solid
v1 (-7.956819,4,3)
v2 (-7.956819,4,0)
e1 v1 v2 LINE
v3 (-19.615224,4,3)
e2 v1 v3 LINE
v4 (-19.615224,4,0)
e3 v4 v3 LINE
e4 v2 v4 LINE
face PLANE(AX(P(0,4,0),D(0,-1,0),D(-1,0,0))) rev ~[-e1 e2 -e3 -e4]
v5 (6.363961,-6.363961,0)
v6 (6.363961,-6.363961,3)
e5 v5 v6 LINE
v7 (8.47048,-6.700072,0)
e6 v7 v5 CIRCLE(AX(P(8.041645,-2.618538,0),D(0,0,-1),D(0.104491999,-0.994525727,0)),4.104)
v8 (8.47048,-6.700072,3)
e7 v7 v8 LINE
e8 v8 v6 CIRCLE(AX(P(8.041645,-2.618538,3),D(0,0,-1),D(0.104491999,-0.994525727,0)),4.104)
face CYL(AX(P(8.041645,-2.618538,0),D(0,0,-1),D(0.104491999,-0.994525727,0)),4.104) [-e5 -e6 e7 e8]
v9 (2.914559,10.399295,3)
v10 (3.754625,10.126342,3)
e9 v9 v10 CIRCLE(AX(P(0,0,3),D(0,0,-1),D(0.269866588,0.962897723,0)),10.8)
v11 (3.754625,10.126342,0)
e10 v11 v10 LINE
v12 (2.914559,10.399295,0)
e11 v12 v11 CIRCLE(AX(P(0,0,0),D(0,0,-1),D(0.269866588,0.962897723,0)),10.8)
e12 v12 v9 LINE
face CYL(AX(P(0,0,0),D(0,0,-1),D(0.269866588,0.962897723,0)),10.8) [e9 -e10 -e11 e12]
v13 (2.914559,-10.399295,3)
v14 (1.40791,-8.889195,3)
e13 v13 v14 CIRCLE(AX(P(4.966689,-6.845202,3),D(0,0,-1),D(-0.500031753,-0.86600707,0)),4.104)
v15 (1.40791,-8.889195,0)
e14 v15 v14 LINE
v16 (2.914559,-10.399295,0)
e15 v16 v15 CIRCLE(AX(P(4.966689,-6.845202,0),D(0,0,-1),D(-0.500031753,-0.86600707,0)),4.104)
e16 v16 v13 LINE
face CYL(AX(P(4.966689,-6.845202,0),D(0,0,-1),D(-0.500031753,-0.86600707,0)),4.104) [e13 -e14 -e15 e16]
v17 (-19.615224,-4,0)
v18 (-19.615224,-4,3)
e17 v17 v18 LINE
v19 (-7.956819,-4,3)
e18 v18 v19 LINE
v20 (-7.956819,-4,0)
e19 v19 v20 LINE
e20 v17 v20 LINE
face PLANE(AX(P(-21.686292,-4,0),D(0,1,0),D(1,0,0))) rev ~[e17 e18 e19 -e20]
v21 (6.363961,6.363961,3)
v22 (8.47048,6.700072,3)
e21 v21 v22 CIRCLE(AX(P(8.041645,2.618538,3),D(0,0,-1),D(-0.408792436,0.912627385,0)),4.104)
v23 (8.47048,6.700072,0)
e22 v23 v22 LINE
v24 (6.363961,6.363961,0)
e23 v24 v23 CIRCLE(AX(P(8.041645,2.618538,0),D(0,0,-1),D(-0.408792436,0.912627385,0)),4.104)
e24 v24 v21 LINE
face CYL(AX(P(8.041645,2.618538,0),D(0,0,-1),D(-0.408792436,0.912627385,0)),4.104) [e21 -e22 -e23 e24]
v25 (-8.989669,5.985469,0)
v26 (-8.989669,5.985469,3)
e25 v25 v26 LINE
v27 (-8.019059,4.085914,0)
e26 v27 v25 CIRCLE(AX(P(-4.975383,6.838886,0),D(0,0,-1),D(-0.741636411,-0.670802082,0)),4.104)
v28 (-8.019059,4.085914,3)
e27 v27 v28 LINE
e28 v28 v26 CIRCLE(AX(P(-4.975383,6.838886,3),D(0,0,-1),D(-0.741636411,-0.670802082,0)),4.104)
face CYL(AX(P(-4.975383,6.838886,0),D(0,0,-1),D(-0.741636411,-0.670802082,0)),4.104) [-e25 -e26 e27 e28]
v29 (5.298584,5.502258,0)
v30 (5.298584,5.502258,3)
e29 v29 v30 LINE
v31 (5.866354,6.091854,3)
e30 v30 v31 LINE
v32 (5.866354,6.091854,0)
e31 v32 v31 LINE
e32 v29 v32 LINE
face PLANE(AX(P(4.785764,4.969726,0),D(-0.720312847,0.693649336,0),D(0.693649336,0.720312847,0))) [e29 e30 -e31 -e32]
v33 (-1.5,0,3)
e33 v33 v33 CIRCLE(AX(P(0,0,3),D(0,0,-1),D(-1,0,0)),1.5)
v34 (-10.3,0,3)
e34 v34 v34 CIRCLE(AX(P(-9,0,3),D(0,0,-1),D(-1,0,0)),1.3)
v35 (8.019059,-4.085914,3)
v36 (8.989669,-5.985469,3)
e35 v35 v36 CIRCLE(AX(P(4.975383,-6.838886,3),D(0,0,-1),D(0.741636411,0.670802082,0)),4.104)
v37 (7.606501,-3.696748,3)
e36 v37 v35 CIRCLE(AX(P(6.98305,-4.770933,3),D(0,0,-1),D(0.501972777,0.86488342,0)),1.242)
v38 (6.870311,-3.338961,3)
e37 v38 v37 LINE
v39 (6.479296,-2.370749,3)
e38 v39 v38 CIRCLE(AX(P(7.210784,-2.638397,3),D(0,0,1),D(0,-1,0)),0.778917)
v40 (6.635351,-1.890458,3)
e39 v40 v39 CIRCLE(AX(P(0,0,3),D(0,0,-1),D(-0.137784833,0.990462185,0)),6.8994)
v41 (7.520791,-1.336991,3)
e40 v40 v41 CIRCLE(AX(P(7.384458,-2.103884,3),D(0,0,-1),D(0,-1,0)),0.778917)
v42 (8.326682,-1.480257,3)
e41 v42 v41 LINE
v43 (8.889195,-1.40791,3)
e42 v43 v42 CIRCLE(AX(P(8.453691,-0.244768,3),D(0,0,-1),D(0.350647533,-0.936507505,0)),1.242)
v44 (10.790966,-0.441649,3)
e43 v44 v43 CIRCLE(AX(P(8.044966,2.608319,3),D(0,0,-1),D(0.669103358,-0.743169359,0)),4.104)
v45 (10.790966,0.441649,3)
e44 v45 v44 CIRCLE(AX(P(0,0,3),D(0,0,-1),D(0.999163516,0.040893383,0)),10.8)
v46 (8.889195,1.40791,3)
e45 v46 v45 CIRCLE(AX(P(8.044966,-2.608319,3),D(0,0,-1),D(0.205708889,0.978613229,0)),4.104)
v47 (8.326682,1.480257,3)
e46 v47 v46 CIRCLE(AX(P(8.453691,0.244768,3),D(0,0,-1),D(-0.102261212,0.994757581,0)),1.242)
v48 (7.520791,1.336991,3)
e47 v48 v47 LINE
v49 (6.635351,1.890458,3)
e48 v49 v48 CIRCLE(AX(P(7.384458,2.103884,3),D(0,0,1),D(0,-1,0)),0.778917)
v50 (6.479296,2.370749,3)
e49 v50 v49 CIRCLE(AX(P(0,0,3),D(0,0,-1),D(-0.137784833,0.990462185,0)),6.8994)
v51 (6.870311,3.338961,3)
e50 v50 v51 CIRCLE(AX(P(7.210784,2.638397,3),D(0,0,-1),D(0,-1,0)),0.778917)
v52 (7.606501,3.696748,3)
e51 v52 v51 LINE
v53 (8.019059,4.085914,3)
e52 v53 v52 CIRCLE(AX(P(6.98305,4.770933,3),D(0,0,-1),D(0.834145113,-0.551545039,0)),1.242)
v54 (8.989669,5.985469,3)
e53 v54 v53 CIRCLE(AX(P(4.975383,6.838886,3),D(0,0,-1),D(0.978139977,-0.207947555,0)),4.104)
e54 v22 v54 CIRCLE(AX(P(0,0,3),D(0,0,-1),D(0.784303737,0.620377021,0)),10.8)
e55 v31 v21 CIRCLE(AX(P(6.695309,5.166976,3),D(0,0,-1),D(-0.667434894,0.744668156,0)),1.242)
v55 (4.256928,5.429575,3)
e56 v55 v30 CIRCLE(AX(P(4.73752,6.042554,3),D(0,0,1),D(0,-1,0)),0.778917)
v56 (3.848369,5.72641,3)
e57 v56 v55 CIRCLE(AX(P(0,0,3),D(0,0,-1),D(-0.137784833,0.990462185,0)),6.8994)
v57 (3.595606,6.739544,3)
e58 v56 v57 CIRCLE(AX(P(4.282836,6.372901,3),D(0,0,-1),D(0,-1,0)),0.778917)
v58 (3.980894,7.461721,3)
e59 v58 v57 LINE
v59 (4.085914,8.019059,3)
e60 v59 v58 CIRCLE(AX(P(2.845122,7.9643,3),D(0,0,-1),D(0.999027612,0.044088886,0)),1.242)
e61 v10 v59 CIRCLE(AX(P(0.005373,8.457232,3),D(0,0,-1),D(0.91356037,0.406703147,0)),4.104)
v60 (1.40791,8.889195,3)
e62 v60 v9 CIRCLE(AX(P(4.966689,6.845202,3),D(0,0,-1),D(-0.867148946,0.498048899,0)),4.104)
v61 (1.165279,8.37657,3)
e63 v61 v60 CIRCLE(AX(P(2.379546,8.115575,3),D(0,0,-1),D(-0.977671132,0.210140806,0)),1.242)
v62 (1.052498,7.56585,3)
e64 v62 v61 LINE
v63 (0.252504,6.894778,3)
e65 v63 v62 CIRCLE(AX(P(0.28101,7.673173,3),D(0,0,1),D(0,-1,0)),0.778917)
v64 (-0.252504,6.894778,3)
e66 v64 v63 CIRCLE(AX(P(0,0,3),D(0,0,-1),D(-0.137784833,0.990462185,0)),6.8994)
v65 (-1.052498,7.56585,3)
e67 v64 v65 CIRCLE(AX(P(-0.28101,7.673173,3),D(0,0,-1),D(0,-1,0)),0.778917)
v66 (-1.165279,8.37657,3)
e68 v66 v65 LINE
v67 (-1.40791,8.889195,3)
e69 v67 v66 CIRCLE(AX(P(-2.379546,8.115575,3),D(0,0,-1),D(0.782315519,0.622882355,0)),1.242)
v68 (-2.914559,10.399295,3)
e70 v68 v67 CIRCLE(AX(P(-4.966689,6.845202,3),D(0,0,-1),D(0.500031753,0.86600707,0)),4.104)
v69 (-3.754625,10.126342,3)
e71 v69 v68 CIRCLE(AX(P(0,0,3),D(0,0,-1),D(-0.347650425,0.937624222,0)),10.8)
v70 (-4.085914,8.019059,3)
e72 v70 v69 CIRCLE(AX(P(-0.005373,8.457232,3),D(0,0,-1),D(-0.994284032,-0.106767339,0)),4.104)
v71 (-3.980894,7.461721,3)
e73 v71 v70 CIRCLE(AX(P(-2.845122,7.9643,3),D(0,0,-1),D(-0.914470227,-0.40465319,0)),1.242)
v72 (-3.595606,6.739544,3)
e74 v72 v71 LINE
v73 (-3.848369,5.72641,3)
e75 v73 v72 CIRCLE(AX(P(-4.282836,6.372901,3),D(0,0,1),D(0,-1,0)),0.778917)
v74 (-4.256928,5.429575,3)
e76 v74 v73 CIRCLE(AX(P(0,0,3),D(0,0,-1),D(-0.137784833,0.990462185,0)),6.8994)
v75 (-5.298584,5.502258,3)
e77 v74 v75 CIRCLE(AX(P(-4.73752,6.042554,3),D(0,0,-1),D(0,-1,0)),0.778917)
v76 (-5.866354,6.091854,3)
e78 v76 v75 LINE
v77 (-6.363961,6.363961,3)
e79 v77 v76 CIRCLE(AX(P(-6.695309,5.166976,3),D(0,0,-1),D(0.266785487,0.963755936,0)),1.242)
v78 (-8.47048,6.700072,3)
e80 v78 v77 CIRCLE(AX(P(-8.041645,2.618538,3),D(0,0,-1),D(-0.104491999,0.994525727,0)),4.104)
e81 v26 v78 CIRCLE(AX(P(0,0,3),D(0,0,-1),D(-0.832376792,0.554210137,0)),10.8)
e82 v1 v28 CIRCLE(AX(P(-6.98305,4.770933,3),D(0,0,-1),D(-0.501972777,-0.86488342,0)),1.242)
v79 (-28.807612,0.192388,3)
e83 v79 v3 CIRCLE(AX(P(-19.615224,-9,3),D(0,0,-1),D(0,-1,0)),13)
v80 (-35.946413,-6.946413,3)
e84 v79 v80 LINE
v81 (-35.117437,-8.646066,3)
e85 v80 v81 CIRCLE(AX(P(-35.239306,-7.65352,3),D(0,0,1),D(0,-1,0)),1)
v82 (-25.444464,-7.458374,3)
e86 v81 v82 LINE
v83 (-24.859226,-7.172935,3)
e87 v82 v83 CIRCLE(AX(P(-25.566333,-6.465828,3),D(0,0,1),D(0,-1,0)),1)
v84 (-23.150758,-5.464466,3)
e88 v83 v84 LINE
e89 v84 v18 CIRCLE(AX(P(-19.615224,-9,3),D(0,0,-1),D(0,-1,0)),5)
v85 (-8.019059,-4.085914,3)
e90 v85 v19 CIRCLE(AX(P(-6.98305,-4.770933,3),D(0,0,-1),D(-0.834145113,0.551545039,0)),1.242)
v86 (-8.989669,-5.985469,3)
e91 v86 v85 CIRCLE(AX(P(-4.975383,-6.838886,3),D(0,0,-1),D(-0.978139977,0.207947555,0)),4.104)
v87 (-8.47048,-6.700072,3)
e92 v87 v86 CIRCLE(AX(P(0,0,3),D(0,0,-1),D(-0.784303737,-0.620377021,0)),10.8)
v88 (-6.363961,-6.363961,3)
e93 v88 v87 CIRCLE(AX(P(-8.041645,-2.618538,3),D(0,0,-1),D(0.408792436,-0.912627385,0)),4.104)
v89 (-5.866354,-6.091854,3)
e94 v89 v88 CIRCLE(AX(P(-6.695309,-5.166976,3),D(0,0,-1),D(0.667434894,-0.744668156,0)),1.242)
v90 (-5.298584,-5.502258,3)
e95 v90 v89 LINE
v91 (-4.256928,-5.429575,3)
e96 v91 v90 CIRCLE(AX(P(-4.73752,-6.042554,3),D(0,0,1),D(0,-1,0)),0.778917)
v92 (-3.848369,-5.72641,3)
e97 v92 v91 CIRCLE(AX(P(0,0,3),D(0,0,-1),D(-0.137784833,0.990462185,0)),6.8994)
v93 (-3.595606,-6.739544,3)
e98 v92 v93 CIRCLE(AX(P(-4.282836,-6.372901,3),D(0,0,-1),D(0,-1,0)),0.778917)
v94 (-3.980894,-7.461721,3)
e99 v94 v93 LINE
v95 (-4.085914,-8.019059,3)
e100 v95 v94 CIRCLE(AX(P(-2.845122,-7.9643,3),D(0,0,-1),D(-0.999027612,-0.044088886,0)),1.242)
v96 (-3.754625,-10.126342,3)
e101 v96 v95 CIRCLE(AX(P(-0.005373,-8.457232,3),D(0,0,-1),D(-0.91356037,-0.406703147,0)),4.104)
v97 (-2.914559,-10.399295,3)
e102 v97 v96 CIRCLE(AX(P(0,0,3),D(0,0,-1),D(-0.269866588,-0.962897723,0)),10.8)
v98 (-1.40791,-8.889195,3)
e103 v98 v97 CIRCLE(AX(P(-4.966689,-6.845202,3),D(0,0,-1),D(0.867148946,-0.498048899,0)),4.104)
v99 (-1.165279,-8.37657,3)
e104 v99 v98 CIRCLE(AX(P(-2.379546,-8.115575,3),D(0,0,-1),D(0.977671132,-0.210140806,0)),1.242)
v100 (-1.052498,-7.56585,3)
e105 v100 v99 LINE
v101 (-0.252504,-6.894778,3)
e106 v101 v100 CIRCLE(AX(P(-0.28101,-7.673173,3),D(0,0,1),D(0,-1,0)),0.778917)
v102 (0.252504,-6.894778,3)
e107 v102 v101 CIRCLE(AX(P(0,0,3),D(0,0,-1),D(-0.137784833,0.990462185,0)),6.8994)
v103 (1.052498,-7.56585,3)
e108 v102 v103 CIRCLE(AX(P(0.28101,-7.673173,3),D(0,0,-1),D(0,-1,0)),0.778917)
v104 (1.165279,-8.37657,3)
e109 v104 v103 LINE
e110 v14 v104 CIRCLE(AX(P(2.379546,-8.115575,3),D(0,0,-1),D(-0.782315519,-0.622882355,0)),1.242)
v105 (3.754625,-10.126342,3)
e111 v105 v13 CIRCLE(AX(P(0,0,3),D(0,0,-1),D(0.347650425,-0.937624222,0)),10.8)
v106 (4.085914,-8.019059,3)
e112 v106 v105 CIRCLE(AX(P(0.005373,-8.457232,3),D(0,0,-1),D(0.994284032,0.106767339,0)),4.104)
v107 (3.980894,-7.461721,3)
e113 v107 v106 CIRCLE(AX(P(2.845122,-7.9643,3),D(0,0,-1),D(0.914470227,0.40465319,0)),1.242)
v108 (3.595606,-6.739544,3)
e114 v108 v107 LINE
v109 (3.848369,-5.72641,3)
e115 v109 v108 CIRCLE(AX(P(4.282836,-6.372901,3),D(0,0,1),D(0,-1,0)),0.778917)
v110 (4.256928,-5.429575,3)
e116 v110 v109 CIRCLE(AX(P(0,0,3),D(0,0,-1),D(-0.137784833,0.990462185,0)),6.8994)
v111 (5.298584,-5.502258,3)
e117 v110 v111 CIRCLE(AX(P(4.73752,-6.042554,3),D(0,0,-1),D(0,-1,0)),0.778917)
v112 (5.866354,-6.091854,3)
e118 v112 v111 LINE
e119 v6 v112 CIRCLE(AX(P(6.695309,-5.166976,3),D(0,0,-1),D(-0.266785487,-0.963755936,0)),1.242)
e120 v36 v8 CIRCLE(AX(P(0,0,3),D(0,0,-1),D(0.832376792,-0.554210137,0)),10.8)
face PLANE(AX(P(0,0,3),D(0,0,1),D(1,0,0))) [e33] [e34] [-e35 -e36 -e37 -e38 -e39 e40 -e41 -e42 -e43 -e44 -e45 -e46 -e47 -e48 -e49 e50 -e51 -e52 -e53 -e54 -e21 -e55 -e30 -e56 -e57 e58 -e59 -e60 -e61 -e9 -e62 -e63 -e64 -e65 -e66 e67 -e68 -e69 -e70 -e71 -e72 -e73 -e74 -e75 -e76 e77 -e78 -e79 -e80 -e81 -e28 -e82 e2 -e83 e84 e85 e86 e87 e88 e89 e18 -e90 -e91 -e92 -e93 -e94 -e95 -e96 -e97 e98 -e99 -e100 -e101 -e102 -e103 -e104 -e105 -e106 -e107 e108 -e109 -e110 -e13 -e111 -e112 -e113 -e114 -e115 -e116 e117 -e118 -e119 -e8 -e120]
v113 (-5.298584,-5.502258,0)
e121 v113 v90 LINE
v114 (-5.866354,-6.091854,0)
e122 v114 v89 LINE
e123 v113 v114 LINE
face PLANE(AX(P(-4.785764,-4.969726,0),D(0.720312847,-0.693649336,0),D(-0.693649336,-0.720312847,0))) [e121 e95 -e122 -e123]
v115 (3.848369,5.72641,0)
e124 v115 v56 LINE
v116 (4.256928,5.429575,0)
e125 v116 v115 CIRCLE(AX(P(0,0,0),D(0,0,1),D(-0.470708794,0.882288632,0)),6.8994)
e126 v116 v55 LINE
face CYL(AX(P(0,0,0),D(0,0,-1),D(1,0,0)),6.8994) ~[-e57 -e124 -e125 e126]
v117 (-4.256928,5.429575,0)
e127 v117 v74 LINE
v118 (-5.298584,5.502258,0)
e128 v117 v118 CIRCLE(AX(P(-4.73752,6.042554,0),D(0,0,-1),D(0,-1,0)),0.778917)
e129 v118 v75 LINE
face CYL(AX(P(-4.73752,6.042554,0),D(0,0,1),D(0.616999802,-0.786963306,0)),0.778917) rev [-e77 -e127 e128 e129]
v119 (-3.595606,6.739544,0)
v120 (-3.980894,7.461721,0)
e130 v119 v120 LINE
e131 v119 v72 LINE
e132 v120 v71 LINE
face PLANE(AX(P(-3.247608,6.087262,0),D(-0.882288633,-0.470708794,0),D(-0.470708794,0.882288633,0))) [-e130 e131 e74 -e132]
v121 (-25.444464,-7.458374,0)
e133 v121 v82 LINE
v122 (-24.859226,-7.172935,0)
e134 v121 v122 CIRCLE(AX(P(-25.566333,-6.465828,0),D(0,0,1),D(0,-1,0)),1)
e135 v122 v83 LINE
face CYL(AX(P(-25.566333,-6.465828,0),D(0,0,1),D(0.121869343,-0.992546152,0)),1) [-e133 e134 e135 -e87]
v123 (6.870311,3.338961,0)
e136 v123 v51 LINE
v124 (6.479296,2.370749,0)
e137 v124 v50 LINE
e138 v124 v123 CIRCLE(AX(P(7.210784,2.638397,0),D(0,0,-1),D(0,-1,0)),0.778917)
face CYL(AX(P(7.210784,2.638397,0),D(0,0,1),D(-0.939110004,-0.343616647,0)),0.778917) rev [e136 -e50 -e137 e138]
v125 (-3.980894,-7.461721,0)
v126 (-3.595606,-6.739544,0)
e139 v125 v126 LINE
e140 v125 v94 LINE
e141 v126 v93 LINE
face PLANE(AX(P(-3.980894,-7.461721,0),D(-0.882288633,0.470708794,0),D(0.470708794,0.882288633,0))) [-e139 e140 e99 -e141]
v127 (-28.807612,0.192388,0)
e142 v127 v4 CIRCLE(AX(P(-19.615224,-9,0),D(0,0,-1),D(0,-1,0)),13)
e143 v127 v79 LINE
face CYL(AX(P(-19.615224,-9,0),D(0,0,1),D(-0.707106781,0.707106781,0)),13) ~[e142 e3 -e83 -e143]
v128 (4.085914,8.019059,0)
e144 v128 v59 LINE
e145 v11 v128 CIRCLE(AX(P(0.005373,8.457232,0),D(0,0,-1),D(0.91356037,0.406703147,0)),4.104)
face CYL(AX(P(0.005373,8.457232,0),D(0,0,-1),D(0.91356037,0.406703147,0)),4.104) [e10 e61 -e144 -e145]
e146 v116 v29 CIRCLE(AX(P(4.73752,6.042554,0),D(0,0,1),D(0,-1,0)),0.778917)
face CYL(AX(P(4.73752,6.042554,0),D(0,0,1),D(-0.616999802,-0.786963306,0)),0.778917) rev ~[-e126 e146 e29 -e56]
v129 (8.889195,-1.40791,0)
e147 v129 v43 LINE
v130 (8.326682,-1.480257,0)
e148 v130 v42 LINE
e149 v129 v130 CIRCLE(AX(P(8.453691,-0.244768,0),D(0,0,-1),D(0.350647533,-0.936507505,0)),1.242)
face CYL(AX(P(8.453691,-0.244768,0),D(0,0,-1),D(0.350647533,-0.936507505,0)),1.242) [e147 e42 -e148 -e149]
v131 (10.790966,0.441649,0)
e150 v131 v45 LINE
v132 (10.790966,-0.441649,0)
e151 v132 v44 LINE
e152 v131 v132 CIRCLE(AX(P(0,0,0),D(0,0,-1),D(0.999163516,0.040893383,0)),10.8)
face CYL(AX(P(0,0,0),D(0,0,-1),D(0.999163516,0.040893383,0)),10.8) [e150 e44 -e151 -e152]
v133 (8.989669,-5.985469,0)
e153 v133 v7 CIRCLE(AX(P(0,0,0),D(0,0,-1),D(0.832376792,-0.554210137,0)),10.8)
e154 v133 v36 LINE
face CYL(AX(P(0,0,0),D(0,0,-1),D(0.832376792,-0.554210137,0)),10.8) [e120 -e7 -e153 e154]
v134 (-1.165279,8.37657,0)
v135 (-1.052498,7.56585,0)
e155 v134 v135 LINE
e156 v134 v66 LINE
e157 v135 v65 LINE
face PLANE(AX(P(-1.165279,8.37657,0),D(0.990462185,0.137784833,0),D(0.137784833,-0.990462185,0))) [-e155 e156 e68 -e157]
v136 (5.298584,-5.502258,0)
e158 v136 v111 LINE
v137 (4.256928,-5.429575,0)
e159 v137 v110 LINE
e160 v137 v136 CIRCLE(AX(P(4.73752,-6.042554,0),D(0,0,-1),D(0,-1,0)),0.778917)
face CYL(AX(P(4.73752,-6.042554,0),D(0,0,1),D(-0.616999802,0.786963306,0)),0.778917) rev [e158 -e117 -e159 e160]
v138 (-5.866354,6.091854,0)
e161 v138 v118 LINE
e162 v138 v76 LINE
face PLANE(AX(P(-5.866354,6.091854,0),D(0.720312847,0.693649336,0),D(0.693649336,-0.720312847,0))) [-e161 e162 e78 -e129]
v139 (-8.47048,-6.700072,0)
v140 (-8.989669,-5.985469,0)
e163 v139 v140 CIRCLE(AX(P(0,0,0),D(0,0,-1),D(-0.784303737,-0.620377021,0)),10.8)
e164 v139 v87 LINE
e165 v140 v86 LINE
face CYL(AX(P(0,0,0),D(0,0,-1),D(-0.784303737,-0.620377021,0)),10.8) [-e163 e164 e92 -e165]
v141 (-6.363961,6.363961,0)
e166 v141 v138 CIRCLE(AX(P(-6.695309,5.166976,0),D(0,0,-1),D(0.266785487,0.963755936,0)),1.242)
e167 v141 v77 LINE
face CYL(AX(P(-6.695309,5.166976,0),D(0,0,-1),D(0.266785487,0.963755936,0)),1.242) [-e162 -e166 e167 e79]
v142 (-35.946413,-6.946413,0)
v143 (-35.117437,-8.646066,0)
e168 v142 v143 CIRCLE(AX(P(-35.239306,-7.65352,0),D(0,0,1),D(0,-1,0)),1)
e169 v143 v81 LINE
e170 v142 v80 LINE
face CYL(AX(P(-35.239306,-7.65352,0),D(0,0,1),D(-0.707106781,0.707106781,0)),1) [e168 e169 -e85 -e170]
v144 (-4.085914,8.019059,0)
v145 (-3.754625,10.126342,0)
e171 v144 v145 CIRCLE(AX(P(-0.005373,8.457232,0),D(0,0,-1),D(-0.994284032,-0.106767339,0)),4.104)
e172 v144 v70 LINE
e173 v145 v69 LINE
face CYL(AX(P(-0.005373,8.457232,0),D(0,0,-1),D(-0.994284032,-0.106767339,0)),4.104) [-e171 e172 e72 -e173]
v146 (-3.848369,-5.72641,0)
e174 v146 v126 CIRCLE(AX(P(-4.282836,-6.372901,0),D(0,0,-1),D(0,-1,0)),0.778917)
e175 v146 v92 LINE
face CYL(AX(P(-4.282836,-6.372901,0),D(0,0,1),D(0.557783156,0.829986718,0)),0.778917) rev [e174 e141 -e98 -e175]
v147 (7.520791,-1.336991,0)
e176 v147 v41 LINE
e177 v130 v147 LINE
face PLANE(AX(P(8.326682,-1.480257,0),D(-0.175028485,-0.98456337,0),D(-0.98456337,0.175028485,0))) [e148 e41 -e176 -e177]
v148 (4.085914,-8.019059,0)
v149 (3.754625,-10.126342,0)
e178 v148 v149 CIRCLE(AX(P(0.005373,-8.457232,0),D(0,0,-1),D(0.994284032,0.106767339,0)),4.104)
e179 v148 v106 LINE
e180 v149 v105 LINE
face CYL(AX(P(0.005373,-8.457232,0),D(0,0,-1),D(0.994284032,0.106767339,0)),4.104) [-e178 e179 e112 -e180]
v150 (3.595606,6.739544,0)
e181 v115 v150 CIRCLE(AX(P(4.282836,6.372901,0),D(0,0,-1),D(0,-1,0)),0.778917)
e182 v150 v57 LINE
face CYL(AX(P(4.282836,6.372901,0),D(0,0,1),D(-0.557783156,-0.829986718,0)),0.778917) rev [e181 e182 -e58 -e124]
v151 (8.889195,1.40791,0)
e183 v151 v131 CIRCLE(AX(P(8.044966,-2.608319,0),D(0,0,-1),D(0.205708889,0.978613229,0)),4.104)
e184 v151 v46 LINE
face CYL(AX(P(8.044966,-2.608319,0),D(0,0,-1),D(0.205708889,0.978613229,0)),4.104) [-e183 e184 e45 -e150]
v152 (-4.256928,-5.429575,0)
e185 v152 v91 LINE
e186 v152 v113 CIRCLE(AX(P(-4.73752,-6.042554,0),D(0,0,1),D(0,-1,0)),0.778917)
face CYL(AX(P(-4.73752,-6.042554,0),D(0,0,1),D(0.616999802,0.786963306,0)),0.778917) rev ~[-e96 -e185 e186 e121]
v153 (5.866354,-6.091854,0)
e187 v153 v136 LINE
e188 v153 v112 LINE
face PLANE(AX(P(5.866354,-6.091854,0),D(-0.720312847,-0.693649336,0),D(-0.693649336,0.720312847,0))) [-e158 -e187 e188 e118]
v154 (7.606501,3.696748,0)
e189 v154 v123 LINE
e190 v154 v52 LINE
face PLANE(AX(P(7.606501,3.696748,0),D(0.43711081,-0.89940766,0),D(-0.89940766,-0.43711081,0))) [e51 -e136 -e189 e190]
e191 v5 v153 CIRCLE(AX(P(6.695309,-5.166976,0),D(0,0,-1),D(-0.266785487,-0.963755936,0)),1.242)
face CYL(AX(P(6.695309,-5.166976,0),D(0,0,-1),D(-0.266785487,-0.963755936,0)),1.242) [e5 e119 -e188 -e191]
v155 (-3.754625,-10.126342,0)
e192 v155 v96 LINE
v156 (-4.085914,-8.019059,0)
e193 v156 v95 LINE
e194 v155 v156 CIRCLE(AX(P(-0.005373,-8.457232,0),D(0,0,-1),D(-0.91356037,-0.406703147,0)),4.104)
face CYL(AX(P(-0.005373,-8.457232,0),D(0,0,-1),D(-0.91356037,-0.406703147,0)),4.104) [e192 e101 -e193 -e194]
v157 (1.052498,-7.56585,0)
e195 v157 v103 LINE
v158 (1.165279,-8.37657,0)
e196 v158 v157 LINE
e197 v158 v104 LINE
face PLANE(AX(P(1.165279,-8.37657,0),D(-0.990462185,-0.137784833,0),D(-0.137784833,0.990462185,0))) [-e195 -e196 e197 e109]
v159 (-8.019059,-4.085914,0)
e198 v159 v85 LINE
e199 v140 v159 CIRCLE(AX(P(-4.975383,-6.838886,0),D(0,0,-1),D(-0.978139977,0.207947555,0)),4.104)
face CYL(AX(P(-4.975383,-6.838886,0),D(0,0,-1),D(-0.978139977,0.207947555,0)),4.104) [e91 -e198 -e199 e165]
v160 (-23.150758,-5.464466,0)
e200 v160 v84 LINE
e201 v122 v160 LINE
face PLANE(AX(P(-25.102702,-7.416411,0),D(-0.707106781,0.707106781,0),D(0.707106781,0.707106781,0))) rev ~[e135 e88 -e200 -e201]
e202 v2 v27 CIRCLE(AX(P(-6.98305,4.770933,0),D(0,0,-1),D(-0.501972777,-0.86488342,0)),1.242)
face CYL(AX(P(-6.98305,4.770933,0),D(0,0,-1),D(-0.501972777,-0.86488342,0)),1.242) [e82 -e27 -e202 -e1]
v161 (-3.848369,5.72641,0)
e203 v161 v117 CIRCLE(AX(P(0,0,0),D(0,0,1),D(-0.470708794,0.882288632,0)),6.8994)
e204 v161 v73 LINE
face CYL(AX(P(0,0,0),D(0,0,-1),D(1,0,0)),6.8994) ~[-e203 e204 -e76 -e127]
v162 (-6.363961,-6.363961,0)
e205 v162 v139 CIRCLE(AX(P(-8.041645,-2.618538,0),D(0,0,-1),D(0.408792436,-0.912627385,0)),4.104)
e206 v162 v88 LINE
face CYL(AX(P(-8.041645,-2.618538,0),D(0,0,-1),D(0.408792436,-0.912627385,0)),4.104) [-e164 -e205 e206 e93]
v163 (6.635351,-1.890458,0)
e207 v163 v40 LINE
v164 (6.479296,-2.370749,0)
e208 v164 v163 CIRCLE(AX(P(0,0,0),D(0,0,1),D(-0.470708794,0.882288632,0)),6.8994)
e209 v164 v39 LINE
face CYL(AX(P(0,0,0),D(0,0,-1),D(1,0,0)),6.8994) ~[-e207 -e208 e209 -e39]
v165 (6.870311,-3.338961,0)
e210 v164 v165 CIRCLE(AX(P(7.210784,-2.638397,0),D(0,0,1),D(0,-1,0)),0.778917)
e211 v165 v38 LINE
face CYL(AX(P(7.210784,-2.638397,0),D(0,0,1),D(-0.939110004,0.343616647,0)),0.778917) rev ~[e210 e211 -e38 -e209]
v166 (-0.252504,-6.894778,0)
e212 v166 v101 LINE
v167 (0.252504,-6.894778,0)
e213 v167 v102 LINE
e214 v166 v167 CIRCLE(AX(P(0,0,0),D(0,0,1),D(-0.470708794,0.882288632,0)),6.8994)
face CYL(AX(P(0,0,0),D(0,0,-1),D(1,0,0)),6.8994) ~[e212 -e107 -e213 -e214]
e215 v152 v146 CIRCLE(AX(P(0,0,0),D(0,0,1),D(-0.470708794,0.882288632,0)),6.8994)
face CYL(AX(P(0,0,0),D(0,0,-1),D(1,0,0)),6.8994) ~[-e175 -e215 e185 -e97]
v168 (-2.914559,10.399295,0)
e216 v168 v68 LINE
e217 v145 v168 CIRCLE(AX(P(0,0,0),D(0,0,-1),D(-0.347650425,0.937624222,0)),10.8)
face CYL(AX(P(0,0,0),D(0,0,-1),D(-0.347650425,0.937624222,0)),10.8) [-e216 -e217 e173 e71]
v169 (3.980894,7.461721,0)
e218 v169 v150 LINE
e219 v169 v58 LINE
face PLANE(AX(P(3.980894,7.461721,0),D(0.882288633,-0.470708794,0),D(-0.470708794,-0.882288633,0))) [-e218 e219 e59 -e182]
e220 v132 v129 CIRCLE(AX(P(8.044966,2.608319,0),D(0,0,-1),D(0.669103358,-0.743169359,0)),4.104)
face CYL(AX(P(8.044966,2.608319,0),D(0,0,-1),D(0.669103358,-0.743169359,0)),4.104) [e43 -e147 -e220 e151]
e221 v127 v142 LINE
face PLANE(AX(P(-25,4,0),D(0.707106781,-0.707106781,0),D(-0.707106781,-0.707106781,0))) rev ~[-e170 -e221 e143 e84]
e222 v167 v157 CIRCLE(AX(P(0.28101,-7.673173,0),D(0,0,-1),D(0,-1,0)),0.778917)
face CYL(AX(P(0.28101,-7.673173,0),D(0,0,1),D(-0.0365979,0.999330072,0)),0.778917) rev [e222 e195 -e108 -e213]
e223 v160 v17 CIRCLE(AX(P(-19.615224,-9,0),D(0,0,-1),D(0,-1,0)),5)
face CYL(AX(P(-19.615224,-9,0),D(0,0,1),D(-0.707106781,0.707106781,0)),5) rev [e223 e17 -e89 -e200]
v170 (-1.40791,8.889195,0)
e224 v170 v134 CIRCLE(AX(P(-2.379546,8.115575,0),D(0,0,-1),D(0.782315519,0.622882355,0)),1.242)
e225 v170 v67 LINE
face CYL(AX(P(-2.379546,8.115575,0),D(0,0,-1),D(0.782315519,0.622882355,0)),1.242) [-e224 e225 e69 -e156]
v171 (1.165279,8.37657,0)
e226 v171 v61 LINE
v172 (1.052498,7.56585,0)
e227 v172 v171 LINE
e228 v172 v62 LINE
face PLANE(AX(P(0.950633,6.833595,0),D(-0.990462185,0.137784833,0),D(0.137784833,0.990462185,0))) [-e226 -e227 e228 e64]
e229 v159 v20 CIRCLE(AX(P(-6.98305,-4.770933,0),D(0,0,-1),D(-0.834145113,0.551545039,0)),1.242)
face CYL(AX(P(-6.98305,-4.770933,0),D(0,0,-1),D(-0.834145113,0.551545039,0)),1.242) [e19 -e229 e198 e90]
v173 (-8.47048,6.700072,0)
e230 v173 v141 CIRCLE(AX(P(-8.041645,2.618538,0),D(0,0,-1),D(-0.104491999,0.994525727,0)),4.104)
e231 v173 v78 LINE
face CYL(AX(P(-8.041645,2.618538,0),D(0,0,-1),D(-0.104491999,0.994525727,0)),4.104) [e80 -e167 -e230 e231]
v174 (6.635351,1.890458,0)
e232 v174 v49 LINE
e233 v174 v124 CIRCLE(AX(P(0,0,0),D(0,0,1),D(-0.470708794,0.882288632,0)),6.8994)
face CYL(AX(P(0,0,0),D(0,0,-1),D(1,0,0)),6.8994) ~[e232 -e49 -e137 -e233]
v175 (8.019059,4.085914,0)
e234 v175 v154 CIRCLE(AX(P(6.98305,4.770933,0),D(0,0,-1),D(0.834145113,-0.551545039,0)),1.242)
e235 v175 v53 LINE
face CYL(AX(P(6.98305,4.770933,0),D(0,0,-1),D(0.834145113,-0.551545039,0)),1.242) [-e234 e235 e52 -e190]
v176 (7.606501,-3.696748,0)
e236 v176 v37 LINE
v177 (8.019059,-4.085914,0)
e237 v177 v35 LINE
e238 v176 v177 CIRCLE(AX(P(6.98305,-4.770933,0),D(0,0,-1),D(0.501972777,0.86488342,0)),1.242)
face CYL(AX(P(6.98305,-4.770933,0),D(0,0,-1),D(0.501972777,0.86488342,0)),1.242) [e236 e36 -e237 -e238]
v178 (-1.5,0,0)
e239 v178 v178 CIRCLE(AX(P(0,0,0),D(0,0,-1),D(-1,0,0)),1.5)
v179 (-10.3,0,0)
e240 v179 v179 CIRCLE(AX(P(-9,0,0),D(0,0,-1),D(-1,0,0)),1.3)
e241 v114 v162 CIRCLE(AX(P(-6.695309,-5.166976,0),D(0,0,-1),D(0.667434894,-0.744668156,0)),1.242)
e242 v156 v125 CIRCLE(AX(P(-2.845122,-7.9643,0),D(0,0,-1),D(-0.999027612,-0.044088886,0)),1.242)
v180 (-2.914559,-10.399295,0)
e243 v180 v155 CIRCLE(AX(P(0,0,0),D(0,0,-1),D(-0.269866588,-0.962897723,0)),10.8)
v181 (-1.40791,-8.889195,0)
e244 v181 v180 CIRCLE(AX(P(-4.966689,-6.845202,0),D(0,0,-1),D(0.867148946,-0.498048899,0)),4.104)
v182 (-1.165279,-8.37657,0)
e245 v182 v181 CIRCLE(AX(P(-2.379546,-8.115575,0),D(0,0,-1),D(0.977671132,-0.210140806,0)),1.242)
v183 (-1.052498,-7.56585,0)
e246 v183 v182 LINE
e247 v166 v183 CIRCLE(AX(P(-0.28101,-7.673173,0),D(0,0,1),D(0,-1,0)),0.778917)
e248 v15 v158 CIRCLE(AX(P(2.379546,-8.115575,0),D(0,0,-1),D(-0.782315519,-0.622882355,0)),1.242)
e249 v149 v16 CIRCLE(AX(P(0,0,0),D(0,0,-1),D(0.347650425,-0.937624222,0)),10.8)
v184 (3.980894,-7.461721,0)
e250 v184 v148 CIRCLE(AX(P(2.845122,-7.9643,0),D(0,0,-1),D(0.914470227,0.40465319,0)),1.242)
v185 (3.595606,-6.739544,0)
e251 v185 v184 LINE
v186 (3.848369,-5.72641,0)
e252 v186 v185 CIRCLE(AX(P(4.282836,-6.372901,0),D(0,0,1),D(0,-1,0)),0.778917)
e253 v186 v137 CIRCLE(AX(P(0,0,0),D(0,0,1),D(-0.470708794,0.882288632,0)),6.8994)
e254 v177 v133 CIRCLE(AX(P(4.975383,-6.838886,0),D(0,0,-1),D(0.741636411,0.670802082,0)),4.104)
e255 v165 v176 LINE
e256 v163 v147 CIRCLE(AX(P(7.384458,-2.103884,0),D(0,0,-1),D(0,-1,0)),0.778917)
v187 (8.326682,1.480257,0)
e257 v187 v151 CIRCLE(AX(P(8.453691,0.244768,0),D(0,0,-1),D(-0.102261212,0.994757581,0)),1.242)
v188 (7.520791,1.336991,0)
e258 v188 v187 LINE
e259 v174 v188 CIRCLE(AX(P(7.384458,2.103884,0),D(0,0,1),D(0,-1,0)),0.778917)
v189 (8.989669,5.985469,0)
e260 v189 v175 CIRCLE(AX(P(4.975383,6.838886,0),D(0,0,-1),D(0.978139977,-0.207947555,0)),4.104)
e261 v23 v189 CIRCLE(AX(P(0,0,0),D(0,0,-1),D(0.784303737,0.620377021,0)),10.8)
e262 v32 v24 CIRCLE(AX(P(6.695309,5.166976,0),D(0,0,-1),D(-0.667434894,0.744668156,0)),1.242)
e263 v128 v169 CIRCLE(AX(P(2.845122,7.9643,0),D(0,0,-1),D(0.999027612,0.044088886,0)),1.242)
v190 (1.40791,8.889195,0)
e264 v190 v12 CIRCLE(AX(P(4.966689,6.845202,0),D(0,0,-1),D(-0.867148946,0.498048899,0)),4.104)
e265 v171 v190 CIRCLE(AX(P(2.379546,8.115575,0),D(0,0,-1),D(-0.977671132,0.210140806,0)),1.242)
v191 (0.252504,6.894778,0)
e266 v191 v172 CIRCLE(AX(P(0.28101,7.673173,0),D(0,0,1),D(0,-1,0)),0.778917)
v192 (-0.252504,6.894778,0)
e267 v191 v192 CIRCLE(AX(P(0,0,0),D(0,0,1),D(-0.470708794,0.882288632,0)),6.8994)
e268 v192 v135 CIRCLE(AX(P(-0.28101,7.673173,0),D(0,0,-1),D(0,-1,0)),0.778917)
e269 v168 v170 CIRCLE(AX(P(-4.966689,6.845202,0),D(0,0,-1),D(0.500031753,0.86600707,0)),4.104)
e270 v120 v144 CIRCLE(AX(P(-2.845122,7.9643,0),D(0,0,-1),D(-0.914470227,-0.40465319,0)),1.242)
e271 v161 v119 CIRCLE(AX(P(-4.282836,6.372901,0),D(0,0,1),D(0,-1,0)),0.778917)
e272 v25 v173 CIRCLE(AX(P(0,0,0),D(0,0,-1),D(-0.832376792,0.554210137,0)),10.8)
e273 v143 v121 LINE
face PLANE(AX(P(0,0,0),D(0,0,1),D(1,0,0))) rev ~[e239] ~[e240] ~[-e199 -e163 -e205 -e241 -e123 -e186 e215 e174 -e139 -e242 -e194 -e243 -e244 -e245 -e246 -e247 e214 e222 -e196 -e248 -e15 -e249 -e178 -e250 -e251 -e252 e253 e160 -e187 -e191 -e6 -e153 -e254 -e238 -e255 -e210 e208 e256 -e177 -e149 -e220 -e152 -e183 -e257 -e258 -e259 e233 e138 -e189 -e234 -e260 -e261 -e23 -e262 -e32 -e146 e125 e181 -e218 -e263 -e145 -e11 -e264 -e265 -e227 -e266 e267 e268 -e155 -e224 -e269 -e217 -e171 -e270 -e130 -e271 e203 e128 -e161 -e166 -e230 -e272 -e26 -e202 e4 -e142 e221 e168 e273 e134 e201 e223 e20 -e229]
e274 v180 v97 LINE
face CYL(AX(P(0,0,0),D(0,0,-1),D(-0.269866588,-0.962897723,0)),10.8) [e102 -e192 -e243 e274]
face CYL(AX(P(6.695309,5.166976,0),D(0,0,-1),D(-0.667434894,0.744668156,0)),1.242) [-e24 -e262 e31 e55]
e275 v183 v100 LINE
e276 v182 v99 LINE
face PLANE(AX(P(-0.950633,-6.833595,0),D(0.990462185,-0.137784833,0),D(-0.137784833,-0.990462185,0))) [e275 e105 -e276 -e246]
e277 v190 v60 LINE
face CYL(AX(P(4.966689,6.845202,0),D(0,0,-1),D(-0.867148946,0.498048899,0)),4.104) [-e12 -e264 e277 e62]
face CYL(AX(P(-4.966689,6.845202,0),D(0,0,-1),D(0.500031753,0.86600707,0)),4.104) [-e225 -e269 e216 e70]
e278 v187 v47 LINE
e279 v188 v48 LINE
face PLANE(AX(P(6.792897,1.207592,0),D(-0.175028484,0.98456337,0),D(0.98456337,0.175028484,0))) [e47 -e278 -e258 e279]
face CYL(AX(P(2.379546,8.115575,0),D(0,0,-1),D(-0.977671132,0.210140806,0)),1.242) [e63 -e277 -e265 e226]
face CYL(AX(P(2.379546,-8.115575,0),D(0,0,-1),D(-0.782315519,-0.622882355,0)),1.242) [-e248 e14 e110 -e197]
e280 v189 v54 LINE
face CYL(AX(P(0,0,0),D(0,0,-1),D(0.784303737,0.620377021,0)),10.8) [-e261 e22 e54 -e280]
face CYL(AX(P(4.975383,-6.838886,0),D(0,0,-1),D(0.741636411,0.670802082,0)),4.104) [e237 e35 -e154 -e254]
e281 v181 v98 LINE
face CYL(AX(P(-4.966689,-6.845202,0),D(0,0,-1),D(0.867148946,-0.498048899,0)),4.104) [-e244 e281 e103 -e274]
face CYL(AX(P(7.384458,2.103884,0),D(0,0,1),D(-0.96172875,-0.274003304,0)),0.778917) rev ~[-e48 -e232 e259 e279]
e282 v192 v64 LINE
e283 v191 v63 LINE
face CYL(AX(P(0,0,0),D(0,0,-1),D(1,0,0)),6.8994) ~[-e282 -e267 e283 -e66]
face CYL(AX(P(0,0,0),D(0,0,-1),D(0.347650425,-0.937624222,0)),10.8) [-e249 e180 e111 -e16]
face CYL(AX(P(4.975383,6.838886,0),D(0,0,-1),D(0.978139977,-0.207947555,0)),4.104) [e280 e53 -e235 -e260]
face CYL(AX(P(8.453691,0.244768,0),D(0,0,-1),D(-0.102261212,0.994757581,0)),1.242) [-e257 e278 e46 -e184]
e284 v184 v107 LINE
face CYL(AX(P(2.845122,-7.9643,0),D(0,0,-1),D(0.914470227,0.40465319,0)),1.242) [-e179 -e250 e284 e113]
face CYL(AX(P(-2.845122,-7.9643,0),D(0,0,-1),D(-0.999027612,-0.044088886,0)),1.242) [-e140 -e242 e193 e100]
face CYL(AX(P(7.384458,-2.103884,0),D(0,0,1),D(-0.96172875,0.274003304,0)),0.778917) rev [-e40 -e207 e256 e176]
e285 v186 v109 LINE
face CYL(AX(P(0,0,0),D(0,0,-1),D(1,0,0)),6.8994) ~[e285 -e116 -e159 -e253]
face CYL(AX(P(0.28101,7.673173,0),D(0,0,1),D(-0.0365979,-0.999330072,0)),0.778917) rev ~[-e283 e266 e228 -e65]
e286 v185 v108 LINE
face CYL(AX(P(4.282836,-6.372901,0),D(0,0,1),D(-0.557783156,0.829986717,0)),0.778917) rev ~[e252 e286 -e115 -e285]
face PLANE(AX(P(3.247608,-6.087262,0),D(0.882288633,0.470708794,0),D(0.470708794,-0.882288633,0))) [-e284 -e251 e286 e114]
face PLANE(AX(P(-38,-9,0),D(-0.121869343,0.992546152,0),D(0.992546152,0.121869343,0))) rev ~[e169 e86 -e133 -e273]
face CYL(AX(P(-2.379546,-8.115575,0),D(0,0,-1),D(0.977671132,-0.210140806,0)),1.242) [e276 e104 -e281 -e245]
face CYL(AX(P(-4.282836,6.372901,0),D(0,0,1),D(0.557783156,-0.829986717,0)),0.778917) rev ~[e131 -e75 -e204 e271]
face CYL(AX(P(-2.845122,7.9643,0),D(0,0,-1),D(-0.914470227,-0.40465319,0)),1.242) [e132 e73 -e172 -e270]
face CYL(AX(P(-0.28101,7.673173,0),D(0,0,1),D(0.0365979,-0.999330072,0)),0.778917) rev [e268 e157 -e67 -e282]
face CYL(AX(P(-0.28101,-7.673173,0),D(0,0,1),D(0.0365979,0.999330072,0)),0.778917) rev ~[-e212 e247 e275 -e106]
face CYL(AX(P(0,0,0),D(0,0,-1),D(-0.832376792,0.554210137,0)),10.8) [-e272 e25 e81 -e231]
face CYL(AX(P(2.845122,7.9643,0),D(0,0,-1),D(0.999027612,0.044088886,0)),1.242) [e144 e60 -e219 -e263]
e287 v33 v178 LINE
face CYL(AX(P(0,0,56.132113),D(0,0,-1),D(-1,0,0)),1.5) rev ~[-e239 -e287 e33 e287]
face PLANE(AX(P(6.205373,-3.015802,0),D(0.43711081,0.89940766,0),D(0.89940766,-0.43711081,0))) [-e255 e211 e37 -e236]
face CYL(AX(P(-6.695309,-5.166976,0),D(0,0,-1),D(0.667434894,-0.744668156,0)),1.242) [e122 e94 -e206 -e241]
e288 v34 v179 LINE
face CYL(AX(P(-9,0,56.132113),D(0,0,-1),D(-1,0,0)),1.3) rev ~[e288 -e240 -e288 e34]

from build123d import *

# Parameters (mm, degrees)
POSICIONAMENTOS_R               = 6.8994
BASE_DEPTH                      = 3
BASE_DENTE_DEPTH                = 3
RAIO_DENTE_R                    = 0.778916794
PADR_OCIRCULAR1_COUNT           = 10
RAIO_DENTE_OF_PADR_OCIRCULAR1_R = 0.778916794
RESSALTO_EXTRUS_O3_DEPTH        = 3
FURO_DE_DI_METRO_3_0_3_1_D      = 3
FURO_DE_DI_METRO_2_6_2_6_1_D    = 2.6
FILETE2_R                       = 5
FILETE3_R                       = 13
FILETE4_R                       = 1


with BuildPart() as part:
    # Posicionamentos → Base (new body)
    with BuildSketch(Plane.XY):
        Circle(POSICIONAMENTOS_R)
    extrude(amount=BASE_DEPTH)

    # Dente → Base Dente (add, through all)
    with BuildSketch(Plane.XY):
        with BuildLine():
            Line((-1.165278514, 8.376570058), (-0.950632674, 6.833594799))
            ThreePointArc((-0.950632674, 6.833594799), (-2.132031851, 6.561719329), (-3.247608255, 6.087262191))
            Line((-3.247608255, 6.087262191), (-3.980894224, 7.461721056))
            ThreePointArc((-3.980894224, 7.461721056), (-4.065642913, 7.734315111), (-4.085914498, 8.019058718))
            ThreePointArc((-4.085914498, 8.019058718), (-4.059577631, 9.094601045), (-3.754624591, 10.126341599))
            ThreePointArc((-3.754624591, 10.126341599), (-3.337383539, 10.271410376), (-2.91455915, 10.399295407))
            ThreePointArc((-2.91455915, 10.399295407), (-2.061405076, 9.743846664), (-1.407910185, 8.889195065))
            ThreePointArc((-1.407910185, 8.889195065), (-1.256942149, 8.64691731), (-1.165278514, 8.376570058))
        make_face()
    base_dente = extrude(amount=BASE_DENTE_DEPTH)

    # Raio Dente
    raio_dente_edges = [part.edges().sort_by_distance(p)[0] for p in [
        (-3.247608255, 6.087262191, 1.5),
        (-0.950632674, 6.833594799, 1.5),
    ]]
    fillet(raio_dente_edges, radius=RAIO_DENTE_R)

    # PadrãoCircular1: Base Dente ×10 about axis, 1 skipped
    padr_ocircular1_axis = Axis((0, 0, 0), (0, 0, -1))
    add([base_dente.rotate(padr_ocircular1_axis, i * 360 / PADR_OCIRCULAR1_COUNT) for i in range(1, PADR_OCIRCULAR1_COUNT) if i not in (8,)])

    # Raio Dente of PadrãoCircular1
    raio_dente_of_padr_ocircular1_edges = [part.edges().sort_by_distance(p)[0] for p in [
        (0.950632674, 6.833594799, 1.5),
        (3.247608255, 6.087262191, 1.5),
        (4.785764232, 4.969726459, 1.5),
        (6.205373212, 3.015802325, 1.5),
        (6.792896515, 1.207591527, 1.5),
        (6.792896515, -1.207591527, 1.5),
        (6.205373212, -3.015802325, 1.5),
        (4.785764232, -4.969726459, 1.5),
        (3.247608255, -6.087262191, 1.5),
        (0.950632674, -6.833594799, 1.5),
        (-0.950632674, -6.833594799, 1.5),
        (-3.247608255, -6.087262191, 1.5),
        (-4.785764232, -4.969726459, 1.5),
        (-6.205373212, -3.015802325, 1.5),
        (-6.205373212, 3.015802325, 1.5),
        (-4.785764232, 4.969726459, 1.5),
    ]]
    fillet(raio_dente_of_padr_ocircular1_edges, radius=RAIO_DENTE_OF_PADR_OCIRCULAR1_R)

    # Braço → Ressalto-extrusão3 (add, through all)
    with BuildSketch(Plane.XY):
        Polygon((0, 4), (-25, 4), (-38, -9), (-25.102702489, -7.416410988), (-21.686291501, -4), (0, -4), align=None)
    extrude(amount=RESSALTO_EXTRUS_O3_DEPTH)

    # Furo de diâmetro Ø3.0 (3)1 (through all)
    with Locations(Plane.XY.offset(3)):
        with Locations((0, 0)):
            Hole(FURO_DE_DI_METRO_3_0_3_1_D / 2)

    # Furo de diâmetro Ø2.6 (2.6)1 (through all)
    with Locations(Plane.XY.offset(3)):
        with Locations((-9, 0)):
            Hole(FURO_DE_DI_METRO_2_6_2_6_1_D / 2)

    # Filete2
    filete2_edges = [part.edges().sort_by_distance(p)[0] for p in [
        (-21.686291501, -4, 1.5),
    ]]
    fillet(filete2_edges, radius=FILETE2_R)

    # Filete3
    filete3_edges = [part.edges().sort_by_distance(p)[0] for p in [
        (-25, 4, 1.5),
    ]]
    fillet(filete3_edges, radius=FILETE3_R)

    # Filete4
    filete4_edges = [part.edges().sort_by_distance(p)[0] for p in [
        (-25.102702489, -7.416410988, 1.5),
        (-38, -9, 1.5),
    ]]
    fillet(filete4_edges, radius=FILETE4_R)


solid = part.part
